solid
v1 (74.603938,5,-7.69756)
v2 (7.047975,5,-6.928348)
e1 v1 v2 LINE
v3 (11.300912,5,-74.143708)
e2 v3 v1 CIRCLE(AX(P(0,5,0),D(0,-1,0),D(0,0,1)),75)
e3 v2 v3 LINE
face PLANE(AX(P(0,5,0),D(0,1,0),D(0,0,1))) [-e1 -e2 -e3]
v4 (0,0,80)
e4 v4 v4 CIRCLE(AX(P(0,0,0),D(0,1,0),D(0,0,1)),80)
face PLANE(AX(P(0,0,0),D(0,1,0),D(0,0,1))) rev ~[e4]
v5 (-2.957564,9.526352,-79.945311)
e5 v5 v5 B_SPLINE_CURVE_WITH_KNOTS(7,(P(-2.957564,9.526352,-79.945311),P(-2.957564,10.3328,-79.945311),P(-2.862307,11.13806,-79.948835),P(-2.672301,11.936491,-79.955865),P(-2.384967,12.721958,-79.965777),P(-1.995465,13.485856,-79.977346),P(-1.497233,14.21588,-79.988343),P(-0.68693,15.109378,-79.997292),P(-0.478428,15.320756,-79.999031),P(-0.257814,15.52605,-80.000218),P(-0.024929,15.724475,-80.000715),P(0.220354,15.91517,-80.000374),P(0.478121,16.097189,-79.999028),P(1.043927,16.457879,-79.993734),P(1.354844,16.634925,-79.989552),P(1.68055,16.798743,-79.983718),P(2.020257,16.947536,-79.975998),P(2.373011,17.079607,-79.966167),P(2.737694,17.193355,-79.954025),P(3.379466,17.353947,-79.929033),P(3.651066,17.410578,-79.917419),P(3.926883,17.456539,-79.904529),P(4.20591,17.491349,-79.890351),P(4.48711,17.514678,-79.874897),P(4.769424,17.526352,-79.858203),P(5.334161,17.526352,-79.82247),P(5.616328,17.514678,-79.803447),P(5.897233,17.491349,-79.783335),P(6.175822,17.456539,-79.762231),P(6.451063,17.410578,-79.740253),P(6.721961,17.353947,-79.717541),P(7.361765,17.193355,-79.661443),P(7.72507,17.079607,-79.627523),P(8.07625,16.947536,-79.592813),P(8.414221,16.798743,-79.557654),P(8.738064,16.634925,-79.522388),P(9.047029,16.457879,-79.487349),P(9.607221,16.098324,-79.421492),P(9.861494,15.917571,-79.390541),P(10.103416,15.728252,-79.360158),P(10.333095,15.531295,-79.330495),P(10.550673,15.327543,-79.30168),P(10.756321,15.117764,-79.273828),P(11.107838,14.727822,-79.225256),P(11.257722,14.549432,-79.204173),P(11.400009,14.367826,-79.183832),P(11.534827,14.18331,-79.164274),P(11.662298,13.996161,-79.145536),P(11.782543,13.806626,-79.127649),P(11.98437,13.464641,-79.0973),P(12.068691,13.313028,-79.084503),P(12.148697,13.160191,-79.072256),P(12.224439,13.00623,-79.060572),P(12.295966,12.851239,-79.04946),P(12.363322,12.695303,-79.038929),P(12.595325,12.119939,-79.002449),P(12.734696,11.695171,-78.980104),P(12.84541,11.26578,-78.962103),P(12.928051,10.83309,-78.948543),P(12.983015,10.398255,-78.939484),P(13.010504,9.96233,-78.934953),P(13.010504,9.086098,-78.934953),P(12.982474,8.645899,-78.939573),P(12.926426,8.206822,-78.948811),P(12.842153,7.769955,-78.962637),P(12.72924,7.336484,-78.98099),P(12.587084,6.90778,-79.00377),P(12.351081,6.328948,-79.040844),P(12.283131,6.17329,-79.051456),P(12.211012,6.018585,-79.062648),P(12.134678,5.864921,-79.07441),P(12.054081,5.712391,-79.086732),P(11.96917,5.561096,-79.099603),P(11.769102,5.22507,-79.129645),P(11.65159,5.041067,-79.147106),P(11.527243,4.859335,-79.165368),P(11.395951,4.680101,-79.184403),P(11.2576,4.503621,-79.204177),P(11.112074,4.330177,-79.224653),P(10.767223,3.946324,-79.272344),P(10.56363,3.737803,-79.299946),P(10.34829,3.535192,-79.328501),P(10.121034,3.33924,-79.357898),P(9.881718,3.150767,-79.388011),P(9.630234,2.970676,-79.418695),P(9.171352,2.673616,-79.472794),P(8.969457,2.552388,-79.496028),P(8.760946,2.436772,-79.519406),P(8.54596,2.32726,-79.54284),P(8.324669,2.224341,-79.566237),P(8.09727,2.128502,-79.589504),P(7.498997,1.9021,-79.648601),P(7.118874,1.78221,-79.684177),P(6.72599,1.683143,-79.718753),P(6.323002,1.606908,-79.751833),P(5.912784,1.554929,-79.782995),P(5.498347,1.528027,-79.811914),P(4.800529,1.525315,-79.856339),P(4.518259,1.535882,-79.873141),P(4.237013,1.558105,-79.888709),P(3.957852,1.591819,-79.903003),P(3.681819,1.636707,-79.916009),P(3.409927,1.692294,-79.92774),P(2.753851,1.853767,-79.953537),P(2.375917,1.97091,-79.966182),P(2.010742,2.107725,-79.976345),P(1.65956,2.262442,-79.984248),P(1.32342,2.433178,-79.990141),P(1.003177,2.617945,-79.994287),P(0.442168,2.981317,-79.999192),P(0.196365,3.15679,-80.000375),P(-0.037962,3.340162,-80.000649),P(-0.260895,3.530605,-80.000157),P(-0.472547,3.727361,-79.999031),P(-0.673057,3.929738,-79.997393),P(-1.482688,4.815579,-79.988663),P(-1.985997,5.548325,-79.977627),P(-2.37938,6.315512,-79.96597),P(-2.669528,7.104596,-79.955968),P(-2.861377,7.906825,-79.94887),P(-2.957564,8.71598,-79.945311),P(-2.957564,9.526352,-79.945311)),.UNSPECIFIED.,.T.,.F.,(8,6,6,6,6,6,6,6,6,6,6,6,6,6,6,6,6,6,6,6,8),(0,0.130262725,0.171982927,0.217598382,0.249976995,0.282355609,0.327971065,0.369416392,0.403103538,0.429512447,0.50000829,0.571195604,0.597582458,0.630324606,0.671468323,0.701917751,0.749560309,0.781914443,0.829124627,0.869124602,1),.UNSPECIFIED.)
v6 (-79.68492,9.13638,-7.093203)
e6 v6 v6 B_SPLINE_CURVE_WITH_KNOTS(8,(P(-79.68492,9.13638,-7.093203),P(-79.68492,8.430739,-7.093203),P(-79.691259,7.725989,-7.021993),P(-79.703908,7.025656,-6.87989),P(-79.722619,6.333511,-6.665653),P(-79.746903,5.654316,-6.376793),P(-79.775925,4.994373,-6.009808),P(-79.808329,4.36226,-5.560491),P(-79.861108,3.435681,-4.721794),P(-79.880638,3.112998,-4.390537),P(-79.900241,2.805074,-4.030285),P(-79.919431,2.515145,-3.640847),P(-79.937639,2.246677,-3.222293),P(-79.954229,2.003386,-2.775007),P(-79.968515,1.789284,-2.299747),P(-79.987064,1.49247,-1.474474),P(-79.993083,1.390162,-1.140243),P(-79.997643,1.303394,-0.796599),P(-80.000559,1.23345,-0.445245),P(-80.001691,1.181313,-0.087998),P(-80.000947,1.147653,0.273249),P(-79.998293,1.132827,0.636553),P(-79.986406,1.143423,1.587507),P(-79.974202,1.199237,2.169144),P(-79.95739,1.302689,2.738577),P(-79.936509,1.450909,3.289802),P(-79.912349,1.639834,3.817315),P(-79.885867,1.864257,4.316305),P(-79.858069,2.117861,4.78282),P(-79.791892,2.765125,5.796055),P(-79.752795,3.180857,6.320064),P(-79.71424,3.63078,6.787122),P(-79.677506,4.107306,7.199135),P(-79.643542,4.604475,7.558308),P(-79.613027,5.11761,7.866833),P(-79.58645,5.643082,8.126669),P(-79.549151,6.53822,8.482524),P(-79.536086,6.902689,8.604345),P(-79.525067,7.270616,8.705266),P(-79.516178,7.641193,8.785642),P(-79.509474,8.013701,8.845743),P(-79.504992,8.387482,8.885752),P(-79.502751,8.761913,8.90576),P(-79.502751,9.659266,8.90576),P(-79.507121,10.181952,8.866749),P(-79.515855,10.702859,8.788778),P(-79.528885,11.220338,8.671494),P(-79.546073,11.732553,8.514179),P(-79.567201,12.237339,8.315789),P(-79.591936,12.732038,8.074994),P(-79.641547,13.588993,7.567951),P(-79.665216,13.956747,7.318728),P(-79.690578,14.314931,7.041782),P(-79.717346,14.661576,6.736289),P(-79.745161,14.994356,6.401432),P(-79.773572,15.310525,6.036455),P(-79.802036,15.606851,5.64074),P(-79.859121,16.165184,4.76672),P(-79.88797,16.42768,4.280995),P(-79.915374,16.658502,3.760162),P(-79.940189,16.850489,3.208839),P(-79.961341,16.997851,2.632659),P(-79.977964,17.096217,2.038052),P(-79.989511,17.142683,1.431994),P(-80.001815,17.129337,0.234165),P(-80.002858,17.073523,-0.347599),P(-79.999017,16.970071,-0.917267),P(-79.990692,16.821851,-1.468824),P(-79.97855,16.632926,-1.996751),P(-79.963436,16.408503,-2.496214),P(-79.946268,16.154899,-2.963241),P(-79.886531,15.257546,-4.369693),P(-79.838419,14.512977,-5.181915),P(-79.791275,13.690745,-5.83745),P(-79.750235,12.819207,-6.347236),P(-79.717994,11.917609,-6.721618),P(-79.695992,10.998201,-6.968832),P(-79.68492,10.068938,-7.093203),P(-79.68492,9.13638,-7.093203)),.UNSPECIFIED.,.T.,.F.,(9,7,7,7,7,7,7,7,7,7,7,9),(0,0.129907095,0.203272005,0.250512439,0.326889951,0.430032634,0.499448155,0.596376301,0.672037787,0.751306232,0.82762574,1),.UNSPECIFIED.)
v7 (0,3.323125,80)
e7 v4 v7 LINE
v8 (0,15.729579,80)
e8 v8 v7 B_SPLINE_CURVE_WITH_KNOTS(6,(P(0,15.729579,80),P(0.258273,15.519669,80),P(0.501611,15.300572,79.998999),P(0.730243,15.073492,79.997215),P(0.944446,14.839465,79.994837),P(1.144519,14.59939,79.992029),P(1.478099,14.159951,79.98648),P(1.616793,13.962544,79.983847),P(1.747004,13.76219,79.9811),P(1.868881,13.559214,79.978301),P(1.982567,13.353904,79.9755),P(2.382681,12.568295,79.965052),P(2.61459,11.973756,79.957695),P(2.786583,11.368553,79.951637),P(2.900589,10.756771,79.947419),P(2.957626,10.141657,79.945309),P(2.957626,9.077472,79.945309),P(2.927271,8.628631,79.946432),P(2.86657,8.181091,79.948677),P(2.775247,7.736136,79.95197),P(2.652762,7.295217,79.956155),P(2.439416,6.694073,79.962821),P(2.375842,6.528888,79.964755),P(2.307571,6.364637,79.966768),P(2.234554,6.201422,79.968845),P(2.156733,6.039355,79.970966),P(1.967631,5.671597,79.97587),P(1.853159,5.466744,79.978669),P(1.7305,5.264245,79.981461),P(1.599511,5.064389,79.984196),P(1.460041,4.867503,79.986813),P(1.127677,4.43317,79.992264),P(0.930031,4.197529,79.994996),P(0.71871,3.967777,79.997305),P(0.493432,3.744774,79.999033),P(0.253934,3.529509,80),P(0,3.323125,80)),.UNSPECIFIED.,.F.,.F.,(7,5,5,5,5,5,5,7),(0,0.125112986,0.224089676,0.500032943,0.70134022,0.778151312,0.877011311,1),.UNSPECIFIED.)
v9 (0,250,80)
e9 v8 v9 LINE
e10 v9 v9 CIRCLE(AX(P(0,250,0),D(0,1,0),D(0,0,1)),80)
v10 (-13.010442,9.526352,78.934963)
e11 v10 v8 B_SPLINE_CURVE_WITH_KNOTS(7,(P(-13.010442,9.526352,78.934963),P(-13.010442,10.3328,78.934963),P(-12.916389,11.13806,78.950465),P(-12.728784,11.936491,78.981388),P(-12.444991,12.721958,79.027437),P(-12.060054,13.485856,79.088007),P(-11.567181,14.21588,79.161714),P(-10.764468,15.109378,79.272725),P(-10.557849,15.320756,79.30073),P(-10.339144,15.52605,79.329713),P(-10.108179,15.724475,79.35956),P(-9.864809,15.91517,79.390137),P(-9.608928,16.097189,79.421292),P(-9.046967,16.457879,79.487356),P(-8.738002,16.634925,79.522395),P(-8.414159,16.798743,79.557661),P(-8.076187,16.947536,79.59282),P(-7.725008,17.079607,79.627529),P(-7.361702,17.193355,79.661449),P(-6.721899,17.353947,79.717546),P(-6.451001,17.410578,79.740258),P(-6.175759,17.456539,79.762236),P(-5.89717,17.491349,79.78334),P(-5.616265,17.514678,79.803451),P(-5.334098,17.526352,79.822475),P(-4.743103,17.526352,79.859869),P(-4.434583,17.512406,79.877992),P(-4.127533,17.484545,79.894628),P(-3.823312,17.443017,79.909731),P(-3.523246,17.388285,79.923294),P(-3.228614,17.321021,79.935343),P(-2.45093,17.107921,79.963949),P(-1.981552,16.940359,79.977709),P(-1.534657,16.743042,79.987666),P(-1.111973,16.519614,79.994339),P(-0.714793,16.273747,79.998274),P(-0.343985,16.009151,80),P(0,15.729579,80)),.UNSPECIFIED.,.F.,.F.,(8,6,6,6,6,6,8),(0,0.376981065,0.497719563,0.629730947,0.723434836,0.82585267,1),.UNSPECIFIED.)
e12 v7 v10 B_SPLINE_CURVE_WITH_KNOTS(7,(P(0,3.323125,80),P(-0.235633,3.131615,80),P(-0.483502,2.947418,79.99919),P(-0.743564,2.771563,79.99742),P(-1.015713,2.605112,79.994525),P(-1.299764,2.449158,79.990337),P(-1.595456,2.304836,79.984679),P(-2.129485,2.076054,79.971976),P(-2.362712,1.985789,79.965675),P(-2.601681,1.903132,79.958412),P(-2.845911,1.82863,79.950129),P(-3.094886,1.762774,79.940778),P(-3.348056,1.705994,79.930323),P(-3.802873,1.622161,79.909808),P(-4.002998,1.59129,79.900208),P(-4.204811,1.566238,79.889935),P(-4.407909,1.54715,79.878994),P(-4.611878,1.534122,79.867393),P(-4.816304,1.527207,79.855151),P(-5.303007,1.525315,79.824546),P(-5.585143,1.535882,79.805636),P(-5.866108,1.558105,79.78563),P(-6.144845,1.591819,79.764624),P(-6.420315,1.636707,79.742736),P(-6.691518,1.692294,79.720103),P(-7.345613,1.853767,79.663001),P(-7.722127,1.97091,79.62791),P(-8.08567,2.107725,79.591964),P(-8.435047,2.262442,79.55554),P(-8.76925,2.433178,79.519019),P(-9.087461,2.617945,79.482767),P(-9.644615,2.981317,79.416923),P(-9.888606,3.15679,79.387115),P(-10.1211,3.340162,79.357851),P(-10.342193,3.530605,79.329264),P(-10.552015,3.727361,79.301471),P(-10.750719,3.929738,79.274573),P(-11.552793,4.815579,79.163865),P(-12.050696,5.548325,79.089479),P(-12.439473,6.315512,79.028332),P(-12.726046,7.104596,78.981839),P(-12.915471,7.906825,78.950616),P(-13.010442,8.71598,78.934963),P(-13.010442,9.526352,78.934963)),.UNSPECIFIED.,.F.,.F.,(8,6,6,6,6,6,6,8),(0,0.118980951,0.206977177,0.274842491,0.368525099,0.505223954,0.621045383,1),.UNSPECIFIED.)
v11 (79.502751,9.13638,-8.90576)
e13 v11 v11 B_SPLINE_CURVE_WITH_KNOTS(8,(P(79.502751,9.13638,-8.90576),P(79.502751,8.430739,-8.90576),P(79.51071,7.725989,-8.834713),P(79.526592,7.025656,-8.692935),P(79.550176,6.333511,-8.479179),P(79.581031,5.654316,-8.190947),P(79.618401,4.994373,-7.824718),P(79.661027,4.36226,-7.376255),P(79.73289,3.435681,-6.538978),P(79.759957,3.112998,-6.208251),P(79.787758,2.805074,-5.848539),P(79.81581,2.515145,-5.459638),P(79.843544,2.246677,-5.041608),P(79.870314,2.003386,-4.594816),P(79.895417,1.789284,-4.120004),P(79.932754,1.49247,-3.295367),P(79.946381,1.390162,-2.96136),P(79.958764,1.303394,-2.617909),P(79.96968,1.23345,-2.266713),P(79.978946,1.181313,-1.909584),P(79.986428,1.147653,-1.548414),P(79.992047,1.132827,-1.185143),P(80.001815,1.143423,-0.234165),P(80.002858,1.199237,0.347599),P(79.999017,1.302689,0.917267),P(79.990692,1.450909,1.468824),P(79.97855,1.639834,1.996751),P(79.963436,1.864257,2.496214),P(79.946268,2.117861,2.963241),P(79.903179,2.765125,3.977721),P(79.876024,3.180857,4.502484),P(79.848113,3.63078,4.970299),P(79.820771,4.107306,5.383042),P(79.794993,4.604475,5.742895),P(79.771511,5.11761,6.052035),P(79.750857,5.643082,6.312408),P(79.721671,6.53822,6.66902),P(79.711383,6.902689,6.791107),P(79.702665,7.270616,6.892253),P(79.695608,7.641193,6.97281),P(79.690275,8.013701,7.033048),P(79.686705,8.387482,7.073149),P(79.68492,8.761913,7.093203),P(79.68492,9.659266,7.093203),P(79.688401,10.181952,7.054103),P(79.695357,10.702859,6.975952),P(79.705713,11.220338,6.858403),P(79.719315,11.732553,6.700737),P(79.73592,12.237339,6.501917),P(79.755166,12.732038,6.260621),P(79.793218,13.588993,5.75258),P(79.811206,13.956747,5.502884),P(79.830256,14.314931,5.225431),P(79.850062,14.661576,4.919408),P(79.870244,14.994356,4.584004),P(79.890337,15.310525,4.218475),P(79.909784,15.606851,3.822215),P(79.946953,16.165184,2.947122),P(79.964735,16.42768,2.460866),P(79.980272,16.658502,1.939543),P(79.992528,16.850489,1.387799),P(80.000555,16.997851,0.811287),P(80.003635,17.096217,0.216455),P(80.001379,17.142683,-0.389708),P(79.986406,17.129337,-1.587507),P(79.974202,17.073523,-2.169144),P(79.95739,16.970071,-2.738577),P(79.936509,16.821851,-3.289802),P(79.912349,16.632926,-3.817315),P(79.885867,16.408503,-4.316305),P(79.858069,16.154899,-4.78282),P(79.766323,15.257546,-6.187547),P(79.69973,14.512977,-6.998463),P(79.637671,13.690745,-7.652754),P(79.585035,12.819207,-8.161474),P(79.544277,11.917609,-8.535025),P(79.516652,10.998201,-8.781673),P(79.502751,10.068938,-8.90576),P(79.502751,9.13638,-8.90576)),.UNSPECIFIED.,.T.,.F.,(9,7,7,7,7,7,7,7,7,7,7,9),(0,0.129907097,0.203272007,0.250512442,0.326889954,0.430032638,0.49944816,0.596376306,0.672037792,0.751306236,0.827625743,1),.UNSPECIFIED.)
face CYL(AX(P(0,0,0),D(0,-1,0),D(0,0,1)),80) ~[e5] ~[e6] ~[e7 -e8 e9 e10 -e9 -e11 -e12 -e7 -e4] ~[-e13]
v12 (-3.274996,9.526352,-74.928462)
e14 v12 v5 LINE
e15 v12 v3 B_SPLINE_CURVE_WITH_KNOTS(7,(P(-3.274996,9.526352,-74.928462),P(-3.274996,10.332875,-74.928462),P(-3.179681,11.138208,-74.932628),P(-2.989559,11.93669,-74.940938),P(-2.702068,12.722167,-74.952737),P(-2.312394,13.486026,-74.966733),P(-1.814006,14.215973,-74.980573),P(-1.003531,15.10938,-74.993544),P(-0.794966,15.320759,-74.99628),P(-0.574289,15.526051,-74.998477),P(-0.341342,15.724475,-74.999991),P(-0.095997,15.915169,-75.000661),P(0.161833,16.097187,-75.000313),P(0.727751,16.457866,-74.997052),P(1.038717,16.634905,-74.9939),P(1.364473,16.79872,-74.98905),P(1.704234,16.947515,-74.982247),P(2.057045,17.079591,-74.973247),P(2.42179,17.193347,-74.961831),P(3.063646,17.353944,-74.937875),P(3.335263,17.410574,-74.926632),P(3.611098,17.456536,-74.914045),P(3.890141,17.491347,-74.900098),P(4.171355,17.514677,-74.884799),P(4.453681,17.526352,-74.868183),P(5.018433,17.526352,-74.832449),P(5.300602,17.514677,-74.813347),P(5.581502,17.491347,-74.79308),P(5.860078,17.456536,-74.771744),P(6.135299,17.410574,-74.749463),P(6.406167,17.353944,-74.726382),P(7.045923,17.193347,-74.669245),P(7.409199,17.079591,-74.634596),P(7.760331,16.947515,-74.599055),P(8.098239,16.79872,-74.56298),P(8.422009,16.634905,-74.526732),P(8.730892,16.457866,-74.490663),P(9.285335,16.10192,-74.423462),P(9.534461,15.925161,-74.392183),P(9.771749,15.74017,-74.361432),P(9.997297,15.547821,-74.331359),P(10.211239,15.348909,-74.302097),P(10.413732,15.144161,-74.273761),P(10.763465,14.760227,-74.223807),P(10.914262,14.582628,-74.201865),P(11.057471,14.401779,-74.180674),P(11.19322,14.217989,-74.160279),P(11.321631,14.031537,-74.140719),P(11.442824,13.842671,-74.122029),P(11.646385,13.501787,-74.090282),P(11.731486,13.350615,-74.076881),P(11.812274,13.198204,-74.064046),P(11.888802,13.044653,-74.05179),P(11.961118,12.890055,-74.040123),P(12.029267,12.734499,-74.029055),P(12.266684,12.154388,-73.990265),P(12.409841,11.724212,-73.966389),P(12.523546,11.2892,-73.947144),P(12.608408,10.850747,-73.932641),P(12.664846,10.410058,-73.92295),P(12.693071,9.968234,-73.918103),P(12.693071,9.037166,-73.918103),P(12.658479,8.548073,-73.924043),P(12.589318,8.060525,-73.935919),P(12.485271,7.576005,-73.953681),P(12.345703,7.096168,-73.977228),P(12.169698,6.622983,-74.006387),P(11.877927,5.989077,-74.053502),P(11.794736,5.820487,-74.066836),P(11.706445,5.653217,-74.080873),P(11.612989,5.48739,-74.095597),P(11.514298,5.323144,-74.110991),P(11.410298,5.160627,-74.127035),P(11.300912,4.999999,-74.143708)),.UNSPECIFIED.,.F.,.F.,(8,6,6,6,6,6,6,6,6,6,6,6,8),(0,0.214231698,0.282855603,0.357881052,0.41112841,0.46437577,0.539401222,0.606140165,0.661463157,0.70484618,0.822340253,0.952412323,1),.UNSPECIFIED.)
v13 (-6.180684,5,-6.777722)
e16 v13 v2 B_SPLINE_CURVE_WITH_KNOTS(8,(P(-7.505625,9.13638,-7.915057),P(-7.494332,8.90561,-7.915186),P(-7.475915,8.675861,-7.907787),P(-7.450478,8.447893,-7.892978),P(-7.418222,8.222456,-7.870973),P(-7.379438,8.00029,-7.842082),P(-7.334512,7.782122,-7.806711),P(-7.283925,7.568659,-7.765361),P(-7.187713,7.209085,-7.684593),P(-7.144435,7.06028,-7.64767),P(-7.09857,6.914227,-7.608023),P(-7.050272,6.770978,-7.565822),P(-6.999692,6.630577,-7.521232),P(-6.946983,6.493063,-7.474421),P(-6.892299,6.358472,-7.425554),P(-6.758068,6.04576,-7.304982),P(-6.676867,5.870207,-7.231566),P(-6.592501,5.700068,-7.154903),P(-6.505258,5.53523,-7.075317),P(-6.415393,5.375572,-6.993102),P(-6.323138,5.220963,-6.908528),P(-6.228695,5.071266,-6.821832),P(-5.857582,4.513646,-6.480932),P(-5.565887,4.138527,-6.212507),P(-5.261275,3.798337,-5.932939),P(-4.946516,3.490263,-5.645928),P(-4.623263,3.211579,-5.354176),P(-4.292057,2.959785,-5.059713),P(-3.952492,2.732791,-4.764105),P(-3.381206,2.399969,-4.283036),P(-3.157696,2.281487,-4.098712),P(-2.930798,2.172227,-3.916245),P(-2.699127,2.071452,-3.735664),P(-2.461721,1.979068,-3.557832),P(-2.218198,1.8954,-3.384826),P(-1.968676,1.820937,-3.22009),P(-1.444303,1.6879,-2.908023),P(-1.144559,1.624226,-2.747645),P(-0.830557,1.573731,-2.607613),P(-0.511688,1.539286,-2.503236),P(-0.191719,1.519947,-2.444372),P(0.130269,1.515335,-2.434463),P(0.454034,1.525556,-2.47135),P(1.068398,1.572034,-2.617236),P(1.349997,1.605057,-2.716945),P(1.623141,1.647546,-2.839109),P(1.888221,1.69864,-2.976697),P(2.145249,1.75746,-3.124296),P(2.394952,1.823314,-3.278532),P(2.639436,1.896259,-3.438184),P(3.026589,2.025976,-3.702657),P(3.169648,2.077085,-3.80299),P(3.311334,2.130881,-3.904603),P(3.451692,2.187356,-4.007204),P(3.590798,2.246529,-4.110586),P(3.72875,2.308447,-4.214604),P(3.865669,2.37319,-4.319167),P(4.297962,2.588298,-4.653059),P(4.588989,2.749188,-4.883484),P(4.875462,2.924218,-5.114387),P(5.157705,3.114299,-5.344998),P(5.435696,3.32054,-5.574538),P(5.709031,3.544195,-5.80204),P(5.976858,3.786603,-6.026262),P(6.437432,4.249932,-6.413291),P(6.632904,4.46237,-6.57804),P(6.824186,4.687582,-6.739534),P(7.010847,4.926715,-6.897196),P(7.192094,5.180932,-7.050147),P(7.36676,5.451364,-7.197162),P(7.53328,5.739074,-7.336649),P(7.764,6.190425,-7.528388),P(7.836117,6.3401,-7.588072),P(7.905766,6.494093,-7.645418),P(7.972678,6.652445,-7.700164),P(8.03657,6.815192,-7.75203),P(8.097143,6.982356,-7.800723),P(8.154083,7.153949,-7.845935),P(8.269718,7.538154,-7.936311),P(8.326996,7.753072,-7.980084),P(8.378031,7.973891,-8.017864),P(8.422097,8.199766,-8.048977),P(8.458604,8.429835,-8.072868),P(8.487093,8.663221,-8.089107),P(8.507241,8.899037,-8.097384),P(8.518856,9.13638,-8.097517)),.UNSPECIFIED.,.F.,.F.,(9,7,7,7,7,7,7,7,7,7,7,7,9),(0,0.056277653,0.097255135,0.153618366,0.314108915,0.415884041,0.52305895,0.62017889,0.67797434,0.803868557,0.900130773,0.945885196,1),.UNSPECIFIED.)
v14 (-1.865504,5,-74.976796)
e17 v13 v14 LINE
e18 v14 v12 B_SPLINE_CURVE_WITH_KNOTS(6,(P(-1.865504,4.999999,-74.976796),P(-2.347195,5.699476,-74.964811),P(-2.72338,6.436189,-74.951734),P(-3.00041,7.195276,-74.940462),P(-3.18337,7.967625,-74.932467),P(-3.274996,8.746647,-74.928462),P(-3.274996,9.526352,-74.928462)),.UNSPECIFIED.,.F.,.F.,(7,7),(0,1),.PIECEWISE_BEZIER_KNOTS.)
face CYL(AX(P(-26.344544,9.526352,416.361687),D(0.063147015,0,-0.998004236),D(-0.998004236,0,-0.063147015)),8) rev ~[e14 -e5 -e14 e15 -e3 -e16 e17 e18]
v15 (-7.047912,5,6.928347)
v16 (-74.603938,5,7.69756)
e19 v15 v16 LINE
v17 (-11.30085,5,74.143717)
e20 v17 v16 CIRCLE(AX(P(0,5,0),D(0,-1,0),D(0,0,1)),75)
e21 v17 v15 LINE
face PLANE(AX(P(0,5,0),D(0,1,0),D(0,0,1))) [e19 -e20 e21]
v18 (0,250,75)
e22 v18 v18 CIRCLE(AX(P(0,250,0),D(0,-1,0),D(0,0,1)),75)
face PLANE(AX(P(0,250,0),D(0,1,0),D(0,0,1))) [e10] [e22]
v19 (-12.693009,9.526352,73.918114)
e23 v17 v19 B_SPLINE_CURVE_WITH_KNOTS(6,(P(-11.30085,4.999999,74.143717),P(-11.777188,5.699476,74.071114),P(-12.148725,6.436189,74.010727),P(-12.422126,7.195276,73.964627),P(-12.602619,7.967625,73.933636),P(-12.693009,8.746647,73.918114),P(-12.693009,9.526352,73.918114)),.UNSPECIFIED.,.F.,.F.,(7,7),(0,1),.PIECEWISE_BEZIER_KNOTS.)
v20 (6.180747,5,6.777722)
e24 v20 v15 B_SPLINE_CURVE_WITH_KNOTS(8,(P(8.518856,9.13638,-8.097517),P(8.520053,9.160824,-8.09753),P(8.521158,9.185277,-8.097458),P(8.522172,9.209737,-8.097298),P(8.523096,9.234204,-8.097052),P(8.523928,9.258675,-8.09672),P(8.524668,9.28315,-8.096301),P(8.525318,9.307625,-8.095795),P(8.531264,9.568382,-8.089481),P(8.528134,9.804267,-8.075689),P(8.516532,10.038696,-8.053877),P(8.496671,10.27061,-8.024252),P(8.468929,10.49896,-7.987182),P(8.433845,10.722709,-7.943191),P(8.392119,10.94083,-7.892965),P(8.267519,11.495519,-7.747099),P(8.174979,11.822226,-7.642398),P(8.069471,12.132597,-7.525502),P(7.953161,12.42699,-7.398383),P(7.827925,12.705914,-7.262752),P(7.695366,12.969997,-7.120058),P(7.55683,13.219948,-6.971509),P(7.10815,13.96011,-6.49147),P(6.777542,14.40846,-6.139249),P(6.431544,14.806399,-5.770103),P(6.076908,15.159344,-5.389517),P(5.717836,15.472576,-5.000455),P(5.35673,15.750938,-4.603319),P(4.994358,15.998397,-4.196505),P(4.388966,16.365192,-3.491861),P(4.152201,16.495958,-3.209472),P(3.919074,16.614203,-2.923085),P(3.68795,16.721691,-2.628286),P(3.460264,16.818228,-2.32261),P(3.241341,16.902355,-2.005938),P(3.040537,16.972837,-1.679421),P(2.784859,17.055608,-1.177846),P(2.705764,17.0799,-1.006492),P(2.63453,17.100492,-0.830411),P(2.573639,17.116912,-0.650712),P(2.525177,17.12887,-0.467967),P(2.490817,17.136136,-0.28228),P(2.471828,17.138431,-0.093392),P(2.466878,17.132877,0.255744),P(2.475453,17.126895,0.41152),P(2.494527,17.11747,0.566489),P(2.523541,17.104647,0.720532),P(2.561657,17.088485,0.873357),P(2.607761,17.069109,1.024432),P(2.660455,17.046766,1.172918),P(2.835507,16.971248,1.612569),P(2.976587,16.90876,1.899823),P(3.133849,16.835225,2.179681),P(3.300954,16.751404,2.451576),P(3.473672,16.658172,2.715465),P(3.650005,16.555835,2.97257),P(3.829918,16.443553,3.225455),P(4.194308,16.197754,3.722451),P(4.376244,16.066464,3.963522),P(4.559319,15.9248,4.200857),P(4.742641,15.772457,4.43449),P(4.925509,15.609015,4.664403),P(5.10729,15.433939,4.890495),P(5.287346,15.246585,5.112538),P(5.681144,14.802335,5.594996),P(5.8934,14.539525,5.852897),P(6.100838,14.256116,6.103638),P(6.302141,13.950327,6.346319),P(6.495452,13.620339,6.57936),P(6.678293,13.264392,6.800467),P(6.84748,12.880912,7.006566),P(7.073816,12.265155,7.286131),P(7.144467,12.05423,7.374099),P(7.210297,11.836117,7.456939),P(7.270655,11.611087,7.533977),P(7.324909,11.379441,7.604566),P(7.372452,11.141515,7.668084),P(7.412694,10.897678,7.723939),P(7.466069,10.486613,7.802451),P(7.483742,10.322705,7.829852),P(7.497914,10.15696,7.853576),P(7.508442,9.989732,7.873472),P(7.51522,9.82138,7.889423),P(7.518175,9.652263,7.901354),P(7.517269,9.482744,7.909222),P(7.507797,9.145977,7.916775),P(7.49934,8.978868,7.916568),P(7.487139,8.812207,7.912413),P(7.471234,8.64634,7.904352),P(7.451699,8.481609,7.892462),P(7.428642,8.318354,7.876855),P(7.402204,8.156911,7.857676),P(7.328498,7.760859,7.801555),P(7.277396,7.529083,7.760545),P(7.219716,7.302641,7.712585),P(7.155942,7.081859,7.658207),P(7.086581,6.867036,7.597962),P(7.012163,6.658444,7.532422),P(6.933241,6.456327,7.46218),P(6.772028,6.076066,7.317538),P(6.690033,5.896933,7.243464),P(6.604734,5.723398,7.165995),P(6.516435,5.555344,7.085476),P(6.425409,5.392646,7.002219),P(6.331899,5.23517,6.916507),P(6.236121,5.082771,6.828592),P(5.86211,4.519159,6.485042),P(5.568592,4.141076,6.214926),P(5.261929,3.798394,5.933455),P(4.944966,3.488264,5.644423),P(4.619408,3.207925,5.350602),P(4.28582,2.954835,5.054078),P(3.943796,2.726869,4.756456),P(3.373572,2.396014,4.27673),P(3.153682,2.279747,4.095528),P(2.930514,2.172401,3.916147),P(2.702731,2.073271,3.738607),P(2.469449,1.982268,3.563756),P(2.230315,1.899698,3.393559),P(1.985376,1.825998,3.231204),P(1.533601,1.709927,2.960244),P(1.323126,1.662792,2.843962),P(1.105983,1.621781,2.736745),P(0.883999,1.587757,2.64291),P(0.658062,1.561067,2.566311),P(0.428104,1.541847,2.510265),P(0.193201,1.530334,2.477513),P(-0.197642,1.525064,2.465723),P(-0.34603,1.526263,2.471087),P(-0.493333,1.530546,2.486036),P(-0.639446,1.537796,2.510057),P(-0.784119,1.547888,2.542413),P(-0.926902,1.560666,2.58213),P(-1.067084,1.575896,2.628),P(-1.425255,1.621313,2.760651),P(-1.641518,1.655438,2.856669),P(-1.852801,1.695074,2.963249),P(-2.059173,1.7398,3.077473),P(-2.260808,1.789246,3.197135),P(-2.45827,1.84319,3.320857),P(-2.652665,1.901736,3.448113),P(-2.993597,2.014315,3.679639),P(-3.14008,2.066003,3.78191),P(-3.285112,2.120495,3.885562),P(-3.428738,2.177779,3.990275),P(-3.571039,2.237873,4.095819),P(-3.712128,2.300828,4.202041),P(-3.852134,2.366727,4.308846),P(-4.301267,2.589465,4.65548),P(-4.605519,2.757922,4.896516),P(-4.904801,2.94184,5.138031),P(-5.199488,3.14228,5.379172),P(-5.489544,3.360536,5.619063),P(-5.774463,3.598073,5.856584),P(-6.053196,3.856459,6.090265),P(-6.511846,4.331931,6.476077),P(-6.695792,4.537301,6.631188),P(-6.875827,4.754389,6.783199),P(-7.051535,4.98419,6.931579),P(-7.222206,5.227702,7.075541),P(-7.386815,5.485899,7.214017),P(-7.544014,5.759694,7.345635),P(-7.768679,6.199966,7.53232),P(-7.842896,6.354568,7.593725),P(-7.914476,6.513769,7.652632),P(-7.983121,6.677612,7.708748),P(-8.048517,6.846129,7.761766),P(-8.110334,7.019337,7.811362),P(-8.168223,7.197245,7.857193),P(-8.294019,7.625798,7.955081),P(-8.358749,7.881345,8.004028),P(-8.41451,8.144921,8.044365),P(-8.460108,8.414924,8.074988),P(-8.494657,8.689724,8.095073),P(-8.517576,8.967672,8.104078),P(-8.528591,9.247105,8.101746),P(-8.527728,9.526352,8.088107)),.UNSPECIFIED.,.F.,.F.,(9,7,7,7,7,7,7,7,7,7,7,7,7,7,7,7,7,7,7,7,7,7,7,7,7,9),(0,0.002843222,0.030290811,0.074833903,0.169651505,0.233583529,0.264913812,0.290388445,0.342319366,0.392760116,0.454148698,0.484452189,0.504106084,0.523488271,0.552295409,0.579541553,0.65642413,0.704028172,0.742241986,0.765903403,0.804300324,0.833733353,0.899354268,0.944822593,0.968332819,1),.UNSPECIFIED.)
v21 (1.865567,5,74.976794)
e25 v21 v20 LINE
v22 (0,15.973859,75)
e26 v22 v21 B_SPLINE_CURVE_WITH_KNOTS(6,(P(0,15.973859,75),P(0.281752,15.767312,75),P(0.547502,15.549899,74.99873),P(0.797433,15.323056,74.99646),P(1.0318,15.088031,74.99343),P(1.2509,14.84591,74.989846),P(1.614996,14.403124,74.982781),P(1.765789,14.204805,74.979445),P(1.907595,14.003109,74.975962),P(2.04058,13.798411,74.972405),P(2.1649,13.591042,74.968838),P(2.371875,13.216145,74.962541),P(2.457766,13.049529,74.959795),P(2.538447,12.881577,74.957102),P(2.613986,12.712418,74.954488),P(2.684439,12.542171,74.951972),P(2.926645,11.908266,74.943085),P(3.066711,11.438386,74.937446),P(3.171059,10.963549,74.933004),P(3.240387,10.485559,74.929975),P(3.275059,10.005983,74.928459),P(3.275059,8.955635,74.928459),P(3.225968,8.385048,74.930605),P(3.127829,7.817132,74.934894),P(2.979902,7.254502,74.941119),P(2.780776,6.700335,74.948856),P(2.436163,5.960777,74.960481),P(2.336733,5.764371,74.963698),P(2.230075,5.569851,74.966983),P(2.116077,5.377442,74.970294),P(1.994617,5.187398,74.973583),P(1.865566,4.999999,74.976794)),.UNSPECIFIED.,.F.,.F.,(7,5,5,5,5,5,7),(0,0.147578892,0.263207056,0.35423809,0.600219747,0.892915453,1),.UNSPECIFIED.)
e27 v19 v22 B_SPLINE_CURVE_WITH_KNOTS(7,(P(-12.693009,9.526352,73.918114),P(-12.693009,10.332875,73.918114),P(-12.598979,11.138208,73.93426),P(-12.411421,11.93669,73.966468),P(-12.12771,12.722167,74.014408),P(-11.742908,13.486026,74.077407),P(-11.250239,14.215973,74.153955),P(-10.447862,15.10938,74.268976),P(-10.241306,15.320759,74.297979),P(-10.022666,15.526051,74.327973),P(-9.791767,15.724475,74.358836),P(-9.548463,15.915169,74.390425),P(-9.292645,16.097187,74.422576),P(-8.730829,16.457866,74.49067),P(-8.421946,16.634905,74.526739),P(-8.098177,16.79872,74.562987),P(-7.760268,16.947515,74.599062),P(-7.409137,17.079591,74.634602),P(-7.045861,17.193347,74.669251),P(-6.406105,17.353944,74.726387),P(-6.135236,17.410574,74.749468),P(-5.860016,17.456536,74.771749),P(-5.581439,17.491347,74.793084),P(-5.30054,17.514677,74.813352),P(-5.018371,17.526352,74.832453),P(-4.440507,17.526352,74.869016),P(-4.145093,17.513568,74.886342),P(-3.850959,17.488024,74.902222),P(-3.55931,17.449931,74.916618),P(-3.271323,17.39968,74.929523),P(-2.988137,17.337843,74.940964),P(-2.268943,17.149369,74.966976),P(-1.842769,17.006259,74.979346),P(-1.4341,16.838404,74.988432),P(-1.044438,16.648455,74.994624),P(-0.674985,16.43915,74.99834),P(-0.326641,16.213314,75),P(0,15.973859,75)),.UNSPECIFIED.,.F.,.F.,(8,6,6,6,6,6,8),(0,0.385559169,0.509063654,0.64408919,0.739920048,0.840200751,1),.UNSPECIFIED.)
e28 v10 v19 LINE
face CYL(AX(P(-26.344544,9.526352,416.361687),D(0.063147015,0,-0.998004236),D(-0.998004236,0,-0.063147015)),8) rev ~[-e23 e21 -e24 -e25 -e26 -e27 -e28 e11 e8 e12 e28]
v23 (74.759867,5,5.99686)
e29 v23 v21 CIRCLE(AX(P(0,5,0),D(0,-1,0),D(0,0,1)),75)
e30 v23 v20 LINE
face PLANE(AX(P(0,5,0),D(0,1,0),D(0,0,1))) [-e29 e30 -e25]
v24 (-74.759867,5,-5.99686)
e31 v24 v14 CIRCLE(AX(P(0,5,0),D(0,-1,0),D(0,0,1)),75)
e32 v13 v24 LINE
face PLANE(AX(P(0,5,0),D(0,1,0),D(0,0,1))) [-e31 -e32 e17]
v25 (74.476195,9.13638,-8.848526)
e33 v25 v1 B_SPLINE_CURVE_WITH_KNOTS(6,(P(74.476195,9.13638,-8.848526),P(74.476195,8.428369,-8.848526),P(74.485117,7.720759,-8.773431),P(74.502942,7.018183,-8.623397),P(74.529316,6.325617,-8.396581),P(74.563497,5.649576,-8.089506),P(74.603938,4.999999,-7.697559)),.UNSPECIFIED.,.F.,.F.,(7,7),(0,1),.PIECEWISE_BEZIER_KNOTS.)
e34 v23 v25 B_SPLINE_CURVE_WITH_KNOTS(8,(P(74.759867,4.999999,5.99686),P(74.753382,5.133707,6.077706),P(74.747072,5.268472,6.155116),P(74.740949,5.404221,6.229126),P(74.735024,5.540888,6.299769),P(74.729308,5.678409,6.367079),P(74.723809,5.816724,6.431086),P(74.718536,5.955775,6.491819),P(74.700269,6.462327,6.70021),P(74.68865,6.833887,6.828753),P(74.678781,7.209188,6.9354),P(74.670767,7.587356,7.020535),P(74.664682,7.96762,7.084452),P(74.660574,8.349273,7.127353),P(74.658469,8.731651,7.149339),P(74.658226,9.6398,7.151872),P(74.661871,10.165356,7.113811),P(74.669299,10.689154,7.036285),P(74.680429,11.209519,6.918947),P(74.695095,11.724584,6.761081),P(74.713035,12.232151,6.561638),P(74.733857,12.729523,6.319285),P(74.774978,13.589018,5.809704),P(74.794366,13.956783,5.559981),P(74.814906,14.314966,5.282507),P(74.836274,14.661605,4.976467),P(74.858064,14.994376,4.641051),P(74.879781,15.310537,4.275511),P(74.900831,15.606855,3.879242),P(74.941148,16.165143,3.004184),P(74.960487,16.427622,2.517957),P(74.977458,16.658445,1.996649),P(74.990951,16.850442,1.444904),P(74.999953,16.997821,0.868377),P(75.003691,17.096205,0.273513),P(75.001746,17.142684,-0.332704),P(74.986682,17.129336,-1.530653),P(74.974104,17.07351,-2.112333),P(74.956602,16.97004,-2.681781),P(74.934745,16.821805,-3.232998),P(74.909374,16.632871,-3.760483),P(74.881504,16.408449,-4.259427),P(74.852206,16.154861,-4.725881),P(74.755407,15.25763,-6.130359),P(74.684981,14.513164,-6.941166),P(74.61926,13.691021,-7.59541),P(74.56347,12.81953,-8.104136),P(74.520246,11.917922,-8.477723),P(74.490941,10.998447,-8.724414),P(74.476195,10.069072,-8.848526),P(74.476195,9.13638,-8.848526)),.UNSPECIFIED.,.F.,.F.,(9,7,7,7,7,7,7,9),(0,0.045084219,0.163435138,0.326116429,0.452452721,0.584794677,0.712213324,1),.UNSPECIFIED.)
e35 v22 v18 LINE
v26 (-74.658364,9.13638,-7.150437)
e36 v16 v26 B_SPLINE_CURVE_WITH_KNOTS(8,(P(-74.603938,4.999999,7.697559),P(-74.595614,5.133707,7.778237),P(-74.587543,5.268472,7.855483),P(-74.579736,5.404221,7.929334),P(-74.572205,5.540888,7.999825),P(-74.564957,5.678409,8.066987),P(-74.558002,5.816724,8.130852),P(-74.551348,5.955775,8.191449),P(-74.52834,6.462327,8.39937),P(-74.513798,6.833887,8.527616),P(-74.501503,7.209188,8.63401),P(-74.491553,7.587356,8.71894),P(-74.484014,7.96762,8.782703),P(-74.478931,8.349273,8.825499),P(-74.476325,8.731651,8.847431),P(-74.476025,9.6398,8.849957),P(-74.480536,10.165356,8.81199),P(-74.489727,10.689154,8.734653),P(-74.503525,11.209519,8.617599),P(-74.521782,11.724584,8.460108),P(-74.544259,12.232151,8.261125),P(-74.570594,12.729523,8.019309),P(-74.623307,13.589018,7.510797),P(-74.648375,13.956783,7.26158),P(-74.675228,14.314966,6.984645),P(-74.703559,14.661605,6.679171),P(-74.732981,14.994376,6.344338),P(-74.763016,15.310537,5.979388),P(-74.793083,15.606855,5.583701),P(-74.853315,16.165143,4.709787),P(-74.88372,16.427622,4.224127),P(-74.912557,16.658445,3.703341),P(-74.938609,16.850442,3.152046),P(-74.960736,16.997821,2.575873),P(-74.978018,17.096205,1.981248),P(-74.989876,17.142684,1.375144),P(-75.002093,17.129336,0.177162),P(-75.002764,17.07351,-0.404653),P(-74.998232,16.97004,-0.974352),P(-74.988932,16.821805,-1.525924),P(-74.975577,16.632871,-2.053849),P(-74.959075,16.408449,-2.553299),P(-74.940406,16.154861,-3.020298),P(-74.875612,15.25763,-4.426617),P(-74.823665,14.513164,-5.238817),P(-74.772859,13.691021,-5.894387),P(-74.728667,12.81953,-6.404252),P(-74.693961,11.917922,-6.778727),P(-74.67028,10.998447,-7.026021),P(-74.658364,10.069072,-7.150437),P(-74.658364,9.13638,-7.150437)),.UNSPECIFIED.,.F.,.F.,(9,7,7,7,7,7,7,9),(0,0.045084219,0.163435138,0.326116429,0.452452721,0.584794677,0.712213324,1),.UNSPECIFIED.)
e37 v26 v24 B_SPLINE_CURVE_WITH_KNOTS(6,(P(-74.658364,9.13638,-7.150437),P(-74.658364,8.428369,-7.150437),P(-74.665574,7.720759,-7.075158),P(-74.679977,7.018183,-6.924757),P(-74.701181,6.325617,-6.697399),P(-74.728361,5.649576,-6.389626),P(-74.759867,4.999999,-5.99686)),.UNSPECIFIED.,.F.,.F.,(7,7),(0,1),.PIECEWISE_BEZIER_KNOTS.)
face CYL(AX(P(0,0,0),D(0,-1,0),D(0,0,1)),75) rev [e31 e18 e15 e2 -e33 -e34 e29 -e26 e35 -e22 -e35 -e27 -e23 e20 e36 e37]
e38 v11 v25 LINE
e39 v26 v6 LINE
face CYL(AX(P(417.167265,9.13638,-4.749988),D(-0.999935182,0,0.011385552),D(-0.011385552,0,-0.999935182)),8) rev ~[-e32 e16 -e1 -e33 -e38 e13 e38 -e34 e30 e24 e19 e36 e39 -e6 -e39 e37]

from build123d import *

# Parameters (mm, degrees)
SKETCH1_R                        = 80
BOSS_EXTRUDE1_DEPTH              = 250
SHELL3_T                         = -5
F_16_0MM_DOWEL_HOLE1_D           = 16
F_16_0MM_DOWEL_HOLE1_ON_FACE_2_D = 16


with BuildPart() as part:
    # Sketch1 → Boss-Extrude1 (new body)
    with BuildSketch(Plane(origin=(0, 0, 0), x_dir=(1, 0, 0), z_dir=(0, 1, 0))):
        with Locations(Location((0, 0, 0), (0, 0, 270))):
            Circle(SKETCH1_R)
    extrude(amount=BOSS_EXTRUDE1_DEPTH)

    # Shell3
    shell3_openings = [part.faces().sort_by_distance(p)[0] for p in [
        (0, 250, 0),
    ]]
    offset(amount=SHELL3_T, openings=shell3_openings, kind=Kind.INTERSECTION)

    # Ø16.0mm Dowel Hole1 (through all)
    with Locations(Plane(origin=(79.9948146, 9.136379981, -0.910844193), x_dir=(0.011385552407, 0, 0.999935182498), z_dir=(0.999935182498, 0, -0.011385552407))):
        with Locations((0, 0)):
            Hole(F_16_0MM_DOWEL_HOLE1_D / 2)

    # Ø16.0mm Dowel Hole1 on face 2 (through all)
    with Locations(Plane(origin=(-5.051729974, 9.526351975, 79.840340833), x_dir=(0.998004235716, 0, 0.063147014915), z_dir=(-0.063147014915, 0, 0.998004235716))):
        with Locations((0, 0)):
            Hole(F_16_0MM_DOWEL_HOLE1_ON_FACE_2_D / 2)


solid = part.part
